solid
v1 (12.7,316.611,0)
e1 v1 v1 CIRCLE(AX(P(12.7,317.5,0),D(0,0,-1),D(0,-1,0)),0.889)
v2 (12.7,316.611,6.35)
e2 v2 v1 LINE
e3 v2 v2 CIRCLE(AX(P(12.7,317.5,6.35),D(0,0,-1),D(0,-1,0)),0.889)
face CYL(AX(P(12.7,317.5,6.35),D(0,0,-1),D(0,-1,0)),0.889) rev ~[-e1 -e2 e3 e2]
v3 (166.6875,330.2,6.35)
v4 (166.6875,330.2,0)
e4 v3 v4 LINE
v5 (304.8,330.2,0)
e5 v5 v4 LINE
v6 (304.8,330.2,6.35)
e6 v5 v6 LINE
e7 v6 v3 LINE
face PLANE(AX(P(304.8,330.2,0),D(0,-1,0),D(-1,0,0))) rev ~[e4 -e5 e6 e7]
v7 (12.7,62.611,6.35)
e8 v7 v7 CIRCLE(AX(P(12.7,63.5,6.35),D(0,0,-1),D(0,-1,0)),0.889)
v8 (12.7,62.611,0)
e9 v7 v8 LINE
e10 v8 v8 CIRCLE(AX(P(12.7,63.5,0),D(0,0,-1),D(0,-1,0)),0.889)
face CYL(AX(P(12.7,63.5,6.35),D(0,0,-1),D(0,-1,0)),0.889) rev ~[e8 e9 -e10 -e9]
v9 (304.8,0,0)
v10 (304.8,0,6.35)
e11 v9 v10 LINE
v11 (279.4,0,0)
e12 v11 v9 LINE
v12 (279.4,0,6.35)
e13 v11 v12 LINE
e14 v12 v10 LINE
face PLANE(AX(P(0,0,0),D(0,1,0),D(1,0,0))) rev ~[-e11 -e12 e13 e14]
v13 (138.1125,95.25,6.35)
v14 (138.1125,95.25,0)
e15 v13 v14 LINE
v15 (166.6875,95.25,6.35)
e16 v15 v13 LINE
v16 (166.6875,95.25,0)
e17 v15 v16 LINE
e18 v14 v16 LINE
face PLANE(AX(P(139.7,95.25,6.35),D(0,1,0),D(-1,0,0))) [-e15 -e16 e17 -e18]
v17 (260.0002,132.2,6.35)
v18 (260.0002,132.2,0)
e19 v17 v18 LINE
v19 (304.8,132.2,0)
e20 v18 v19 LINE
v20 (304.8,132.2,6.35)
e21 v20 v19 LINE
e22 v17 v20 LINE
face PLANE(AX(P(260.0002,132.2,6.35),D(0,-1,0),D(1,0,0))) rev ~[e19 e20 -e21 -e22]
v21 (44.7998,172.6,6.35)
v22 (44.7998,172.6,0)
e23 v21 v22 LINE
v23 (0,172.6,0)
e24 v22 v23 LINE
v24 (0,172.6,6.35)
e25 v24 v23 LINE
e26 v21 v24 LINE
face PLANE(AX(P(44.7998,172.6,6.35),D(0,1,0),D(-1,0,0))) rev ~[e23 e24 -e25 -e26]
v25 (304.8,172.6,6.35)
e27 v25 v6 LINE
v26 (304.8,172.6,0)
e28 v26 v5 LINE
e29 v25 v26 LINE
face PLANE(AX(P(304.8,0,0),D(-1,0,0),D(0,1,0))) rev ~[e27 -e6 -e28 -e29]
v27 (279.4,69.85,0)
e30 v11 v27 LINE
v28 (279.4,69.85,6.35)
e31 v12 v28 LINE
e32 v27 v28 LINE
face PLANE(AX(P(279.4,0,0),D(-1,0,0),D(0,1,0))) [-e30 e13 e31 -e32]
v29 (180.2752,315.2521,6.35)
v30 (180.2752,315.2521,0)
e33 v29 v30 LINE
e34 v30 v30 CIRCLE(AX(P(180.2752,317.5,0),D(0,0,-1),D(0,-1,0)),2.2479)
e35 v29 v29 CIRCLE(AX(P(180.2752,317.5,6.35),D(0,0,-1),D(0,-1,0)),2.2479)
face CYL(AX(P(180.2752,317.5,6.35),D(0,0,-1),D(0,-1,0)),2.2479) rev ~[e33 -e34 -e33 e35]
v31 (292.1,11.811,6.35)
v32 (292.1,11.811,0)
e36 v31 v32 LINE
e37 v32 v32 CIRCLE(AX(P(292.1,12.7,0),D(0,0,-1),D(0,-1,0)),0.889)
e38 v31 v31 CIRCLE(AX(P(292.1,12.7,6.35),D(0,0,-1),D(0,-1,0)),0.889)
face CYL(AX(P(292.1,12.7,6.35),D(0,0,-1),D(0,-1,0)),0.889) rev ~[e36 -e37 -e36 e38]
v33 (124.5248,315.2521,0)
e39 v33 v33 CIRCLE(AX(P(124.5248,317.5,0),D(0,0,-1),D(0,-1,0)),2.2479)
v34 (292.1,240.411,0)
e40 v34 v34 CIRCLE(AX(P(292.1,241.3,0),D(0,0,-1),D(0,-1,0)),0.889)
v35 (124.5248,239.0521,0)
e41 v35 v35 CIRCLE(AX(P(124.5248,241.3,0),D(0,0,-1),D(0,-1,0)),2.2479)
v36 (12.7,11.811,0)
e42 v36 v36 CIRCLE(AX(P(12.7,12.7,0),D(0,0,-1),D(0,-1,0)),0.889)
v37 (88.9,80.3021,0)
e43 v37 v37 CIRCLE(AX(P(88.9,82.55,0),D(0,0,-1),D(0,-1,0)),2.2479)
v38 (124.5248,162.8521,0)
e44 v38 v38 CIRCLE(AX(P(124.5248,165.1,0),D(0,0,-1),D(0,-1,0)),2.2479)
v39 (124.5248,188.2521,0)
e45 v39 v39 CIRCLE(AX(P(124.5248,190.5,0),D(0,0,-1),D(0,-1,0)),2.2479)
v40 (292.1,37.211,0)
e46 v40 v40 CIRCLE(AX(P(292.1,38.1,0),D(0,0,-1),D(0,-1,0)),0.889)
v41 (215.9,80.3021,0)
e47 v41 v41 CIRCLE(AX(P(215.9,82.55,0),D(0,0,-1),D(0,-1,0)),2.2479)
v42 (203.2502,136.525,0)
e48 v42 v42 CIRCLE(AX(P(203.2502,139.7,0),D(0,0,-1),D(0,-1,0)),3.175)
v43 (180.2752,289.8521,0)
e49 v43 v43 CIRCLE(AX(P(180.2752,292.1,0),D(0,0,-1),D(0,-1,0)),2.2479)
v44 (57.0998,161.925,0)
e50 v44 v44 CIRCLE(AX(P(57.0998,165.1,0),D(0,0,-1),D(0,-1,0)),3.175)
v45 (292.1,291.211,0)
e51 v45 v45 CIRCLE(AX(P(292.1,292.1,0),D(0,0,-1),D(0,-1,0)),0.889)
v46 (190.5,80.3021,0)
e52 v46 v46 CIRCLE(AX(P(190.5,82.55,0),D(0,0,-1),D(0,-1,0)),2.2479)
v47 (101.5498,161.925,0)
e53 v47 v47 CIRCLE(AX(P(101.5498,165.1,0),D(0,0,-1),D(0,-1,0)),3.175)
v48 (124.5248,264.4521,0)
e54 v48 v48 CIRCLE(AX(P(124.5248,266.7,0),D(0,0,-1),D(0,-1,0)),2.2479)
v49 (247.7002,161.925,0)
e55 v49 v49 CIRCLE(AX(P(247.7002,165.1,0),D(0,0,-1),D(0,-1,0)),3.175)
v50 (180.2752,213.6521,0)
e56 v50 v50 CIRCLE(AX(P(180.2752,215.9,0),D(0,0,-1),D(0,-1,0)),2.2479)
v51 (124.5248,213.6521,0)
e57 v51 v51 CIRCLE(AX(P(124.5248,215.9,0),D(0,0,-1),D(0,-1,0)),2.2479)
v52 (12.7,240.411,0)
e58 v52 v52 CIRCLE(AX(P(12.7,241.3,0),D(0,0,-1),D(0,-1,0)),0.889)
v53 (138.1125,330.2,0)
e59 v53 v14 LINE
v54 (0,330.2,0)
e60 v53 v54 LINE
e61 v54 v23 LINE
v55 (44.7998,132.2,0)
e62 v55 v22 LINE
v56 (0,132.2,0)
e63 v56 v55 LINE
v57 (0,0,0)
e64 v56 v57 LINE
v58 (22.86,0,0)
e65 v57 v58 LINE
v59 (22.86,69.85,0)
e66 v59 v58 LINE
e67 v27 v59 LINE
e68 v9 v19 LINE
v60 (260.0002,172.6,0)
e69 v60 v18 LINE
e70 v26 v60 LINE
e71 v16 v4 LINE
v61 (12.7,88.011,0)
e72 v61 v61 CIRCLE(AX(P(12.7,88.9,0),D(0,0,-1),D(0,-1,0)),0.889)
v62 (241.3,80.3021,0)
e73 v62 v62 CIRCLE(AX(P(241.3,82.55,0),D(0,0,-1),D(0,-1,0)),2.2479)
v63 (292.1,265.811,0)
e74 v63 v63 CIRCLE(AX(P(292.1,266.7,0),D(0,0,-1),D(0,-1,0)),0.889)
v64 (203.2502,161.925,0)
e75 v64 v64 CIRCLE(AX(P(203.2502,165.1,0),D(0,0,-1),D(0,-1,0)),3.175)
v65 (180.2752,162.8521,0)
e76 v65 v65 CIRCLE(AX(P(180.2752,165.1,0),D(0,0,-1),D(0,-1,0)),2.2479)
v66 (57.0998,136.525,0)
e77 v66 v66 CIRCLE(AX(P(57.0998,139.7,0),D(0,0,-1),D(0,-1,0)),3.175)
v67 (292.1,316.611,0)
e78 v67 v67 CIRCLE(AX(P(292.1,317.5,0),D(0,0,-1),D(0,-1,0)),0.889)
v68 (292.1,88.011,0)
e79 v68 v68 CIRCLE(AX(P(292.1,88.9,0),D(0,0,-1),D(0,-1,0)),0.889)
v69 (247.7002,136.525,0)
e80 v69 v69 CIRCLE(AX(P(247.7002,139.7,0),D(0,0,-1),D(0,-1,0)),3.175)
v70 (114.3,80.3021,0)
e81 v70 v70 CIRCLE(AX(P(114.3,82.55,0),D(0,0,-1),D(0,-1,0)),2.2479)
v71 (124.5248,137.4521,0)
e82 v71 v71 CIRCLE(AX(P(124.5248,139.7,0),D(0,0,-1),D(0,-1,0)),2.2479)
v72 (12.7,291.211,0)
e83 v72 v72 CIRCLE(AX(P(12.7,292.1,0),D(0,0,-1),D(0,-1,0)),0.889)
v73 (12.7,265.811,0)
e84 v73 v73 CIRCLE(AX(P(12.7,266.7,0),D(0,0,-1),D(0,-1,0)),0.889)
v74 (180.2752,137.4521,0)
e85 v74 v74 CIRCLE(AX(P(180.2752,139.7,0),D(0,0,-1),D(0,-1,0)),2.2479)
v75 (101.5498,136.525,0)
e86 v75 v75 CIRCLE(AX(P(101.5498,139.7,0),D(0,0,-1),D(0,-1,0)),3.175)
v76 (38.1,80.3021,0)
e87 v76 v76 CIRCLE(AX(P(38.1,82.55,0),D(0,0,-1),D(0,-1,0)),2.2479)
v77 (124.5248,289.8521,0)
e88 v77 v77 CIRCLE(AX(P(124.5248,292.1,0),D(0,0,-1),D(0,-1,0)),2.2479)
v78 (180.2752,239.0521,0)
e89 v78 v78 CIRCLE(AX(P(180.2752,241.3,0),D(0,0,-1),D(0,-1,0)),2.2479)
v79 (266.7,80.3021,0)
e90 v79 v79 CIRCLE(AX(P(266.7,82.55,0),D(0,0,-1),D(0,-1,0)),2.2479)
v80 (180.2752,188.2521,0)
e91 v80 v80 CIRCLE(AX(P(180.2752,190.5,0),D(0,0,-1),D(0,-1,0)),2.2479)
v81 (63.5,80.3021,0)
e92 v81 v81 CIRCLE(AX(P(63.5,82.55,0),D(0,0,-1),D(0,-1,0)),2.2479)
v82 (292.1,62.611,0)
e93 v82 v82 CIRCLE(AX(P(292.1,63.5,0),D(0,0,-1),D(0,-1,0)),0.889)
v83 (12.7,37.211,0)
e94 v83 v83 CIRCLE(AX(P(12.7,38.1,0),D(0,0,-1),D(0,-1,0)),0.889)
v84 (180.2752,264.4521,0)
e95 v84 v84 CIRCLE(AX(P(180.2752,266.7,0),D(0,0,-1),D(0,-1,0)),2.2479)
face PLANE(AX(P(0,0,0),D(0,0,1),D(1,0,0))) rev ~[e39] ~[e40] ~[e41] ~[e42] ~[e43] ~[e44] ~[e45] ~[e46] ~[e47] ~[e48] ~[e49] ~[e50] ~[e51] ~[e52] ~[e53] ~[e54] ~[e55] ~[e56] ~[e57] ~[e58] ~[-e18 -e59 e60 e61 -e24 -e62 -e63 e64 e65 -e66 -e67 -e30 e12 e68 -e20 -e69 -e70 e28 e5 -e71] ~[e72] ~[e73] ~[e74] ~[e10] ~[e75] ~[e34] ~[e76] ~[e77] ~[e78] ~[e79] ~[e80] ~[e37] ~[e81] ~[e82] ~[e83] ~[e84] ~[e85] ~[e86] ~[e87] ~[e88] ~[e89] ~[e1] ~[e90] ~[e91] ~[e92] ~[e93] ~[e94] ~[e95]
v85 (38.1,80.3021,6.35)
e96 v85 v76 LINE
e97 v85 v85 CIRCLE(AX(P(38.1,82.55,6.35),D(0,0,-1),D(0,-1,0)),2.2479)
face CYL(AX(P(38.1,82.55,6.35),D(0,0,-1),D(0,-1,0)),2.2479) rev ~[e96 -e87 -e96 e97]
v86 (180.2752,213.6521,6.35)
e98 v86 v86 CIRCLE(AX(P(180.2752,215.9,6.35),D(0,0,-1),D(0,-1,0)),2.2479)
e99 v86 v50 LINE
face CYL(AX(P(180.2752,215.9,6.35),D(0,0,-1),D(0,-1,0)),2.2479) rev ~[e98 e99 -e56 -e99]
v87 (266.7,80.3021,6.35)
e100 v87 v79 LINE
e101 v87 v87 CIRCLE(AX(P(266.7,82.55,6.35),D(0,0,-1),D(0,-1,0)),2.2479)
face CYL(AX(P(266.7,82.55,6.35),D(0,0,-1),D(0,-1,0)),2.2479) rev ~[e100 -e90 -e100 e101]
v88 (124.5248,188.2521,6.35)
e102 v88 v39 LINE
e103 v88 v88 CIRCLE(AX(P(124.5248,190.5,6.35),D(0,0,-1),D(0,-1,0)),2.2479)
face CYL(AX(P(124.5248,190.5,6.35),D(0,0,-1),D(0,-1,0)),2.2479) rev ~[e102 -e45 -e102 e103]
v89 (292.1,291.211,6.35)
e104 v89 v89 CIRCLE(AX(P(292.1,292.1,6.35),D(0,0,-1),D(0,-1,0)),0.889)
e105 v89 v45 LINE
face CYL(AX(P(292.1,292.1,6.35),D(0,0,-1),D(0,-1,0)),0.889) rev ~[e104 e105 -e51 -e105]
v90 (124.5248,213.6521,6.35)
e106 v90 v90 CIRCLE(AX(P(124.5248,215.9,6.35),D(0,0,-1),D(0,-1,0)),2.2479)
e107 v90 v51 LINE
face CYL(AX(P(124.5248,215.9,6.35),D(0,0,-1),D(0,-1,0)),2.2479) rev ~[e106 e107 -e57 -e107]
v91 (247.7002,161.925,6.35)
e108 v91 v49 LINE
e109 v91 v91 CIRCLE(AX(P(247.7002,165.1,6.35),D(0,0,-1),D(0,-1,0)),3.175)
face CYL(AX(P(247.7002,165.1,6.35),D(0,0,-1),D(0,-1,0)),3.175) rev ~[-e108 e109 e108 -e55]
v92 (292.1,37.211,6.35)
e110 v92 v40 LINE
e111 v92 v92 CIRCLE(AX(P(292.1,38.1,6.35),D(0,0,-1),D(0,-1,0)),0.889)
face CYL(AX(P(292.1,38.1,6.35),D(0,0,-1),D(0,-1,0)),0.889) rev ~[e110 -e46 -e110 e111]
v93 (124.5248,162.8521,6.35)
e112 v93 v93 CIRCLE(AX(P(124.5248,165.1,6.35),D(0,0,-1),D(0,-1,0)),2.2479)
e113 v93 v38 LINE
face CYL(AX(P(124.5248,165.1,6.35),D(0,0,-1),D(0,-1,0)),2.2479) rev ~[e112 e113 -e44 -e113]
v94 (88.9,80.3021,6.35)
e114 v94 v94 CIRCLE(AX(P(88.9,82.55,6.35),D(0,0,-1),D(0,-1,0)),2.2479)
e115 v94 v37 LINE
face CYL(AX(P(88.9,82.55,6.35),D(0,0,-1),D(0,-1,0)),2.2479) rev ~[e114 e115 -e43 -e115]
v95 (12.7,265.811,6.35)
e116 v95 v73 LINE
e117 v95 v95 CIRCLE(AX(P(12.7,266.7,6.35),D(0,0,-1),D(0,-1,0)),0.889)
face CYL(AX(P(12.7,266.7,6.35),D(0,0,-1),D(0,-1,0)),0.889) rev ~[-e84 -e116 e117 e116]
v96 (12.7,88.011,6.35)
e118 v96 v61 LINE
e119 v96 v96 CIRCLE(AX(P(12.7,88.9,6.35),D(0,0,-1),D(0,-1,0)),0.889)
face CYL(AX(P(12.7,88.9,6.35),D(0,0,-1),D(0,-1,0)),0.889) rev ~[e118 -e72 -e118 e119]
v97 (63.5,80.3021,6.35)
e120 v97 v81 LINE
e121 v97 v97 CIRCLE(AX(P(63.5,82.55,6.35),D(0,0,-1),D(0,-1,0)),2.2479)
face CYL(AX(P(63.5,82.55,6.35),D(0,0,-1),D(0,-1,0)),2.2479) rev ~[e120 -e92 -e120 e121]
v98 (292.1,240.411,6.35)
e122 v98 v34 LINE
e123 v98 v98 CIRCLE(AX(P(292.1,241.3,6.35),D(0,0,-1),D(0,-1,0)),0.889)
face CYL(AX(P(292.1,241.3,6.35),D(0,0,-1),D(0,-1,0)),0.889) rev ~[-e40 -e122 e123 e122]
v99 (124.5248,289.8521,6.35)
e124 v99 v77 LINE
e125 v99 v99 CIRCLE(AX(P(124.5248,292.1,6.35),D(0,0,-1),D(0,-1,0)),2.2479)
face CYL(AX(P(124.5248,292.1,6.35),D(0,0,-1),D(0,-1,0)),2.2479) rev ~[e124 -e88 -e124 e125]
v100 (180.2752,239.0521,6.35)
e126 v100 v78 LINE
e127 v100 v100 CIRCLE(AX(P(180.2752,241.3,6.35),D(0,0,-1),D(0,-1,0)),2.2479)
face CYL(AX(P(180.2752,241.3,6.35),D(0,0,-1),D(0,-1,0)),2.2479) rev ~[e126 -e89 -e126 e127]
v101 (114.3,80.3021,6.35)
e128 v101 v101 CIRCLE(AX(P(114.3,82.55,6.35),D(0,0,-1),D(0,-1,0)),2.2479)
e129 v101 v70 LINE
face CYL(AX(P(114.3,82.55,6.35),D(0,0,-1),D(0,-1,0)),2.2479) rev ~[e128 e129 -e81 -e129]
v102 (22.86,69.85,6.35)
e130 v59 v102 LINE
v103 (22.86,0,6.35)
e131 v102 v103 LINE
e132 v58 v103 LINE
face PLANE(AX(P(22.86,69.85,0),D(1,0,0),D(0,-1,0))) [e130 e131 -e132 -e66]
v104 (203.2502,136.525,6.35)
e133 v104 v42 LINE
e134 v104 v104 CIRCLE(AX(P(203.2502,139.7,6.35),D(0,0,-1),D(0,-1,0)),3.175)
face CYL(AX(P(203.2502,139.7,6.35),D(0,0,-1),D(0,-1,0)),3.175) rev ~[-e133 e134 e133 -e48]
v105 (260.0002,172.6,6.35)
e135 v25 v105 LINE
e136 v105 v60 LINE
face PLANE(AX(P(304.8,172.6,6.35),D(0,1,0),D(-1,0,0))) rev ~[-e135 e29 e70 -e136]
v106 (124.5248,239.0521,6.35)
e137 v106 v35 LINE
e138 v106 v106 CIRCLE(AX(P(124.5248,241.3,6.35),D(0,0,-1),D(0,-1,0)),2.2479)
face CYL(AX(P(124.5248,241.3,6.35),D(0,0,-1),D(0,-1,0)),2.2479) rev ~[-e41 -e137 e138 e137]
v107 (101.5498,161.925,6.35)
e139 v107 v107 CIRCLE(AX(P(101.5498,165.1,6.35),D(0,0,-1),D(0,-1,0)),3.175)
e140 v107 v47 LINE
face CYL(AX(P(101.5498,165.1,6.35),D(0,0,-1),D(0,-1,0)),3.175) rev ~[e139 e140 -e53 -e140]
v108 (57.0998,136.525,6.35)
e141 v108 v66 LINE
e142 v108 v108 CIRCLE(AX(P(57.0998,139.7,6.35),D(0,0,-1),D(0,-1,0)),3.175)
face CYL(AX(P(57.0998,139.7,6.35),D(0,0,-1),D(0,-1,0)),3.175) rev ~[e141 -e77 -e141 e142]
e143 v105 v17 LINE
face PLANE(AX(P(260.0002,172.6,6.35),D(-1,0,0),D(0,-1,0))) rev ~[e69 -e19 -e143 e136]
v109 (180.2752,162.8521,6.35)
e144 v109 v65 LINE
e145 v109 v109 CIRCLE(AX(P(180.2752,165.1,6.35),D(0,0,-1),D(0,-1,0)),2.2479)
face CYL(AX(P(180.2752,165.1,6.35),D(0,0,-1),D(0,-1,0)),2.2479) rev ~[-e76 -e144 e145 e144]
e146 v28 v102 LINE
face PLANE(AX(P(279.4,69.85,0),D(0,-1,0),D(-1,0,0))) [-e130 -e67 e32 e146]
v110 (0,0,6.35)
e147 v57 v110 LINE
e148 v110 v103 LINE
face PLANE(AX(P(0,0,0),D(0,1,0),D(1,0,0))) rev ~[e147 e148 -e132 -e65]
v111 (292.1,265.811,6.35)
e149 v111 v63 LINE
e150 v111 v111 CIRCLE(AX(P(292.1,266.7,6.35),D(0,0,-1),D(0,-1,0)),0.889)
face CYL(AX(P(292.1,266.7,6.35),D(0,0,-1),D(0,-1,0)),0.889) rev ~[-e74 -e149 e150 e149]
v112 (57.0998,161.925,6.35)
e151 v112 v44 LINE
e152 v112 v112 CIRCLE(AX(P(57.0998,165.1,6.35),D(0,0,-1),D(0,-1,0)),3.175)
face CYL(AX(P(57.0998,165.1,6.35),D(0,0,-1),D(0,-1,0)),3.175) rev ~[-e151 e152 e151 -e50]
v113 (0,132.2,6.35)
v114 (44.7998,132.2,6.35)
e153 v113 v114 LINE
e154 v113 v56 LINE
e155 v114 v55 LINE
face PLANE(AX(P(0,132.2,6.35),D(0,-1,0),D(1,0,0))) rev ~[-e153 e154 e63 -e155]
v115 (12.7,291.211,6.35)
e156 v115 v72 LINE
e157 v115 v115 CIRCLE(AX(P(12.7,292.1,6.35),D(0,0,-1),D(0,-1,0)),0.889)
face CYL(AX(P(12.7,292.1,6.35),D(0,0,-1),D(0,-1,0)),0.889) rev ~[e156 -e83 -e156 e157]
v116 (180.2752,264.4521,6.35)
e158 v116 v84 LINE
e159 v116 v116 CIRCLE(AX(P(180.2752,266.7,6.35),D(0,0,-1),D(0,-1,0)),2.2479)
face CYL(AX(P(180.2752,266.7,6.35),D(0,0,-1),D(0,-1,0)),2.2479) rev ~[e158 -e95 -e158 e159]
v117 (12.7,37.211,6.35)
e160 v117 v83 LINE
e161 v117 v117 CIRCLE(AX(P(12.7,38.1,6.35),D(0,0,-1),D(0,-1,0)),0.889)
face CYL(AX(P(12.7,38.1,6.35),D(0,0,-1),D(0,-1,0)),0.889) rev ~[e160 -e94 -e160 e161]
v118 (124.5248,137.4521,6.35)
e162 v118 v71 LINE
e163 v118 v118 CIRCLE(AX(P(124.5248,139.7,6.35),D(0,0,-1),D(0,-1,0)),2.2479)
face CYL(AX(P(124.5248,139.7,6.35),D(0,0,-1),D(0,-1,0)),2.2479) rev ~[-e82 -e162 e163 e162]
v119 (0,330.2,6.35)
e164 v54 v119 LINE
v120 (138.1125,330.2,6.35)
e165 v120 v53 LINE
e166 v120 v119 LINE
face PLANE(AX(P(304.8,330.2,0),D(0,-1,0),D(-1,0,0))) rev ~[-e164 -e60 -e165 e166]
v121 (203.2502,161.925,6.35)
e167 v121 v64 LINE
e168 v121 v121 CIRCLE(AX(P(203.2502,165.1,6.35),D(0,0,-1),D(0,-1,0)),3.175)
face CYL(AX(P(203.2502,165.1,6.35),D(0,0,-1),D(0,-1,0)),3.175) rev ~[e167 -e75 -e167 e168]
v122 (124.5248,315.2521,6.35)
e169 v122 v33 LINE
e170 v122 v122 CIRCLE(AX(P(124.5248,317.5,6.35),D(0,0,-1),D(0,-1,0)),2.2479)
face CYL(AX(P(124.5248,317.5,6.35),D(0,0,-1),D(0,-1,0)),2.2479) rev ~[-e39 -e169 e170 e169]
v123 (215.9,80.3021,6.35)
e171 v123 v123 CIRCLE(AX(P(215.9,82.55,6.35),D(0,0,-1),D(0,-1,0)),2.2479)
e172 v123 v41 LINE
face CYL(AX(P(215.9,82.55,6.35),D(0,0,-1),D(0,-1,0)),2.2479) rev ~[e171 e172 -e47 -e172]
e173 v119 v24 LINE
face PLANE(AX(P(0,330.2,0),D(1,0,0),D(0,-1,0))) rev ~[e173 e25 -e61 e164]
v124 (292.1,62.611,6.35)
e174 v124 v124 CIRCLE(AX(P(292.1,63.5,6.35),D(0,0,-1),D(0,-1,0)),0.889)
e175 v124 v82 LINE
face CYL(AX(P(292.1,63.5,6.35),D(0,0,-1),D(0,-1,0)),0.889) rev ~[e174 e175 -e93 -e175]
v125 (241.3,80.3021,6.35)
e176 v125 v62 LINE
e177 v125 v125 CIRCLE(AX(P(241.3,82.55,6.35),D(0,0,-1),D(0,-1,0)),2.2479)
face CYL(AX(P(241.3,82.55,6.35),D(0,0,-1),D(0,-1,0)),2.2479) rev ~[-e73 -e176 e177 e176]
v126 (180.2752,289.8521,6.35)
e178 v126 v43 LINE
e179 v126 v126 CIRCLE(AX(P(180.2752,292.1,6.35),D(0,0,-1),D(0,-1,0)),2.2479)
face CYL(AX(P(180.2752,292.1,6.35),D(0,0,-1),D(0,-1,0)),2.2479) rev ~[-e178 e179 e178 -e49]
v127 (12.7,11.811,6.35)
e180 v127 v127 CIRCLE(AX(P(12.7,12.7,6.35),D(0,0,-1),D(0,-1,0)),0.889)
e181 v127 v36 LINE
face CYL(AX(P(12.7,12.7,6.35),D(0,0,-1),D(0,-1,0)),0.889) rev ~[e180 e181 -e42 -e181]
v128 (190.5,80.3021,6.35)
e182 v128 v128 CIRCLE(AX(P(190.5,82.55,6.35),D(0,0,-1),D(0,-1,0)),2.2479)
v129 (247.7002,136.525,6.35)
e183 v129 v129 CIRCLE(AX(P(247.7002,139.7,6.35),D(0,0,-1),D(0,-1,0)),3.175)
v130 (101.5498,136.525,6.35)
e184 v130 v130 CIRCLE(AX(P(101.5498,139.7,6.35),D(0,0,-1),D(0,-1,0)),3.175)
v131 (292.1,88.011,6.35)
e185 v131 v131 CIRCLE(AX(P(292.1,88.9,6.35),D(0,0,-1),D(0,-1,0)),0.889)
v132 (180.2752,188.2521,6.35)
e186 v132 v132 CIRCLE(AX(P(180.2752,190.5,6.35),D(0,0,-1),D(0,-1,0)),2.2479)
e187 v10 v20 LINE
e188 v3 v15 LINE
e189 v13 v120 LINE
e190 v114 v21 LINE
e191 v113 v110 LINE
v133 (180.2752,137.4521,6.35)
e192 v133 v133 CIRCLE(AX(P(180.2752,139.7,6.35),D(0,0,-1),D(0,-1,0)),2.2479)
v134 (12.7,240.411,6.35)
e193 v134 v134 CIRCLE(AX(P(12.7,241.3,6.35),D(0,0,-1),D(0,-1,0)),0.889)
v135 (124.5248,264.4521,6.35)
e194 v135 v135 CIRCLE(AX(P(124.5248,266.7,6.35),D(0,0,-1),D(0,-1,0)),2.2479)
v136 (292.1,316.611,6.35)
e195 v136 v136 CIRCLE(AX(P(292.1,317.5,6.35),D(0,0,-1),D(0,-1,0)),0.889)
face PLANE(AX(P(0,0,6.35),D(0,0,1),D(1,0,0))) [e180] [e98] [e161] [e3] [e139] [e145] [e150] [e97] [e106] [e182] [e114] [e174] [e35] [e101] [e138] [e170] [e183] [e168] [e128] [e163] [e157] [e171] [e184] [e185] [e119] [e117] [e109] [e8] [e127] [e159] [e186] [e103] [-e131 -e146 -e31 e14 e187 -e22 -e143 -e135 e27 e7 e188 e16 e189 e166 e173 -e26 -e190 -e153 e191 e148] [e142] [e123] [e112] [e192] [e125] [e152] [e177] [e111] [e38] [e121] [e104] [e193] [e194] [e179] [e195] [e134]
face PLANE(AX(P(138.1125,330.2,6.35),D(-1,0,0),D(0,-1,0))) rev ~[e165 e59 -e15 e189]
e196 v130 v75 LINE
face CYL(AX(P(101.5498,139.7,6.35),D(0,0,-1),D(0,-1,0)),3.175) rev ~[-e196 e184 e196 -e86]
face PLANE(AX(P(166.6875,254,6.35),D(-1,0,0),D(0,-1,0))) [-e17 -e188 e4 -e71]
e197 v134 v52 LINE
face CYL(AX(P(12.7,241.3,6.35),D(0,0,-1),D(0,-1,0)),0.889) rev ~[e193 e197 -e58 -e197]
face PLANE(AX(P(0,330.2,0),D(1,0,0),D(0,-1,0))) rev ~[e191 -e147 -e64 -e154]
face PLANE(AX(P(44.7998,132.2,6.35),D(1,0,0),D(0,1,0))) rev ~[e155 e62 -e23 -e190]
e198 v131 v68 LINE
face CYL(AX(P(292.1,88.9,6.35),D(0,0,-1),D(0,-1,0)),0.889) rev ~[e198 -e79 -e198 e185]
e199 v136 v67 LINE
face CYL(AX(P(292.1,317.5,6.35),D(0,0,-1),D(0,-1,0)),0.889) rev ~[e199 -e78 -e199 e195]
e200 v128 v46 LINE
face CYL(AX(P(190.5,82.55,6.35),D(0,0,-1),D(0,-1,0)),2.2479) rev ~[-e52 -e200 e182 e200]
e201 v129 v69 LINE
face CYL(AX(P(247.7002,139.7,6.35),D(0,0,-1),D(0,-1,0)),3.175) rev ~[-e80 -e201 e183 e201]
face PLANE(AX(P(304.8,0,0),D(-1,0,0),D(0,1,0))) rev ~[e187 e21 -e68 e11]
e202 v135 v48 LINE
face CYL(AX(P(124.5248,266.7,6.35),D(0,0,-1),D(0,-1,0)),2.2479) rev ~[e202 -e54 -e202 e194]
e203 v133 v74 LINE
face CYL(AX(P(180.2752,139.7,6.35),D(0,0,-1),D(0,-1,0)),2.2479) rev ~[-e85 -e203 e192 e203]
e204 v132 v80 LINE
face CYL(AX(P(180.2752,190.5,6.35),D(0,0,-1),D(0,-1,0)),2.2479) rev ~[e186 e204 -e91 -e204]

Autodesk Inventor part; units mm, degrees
ref_plane "YZ Plane" through (0, 0, 0) normal (1, 0, 0) x (0, 1, 0)
ref_plane "XZ Plane" through (0, 0, 0) normal (0, 1, 0) x (-1, 0, 0)
ref_plane "XY Plane" through (0, 0, 0) normal (0, 0, 1) x (1, 0, 0)
sketch "Sketch1" plane through (0, 0, 0) normal (0, 0, 1) x (1, 0, 0)
  line L0 (0, 0) -> (304.8, 0)
  line L1 (304.8, 0) -> (304.8, 330.2)
  line L2 (304.8, 330.2) -> (0, 330.2)
  line L3 (0, 330.2) -> (0, 0)
  dimension "d0" = 304.8
  dimension "d1" = 330.2
extrude "Extrusion1" add sketch "Sketch1" along normal blind 6.35
sketch "Sketch2" plane through (0, 0, 6.35) normal (0, 0, 1) x (1, 0, 0)
  circle A0 centre (57.0998, 139.7) radius 3.175 projected
  circle A1 centre (101.5498, 165.1) radius 3.175 projected
  circle A2 centre (203.2502, 139.7) radius 3.175 projected
  circle A3 centre (247.7002, 165.1) radius 3.175 projected
  circle A4 centre (203.2502, 165.1) radius 3.175 projected
  circle A5 centre (247.7002, 139.7) radius 3.175 projected
  circle A6 centre (101.5498, 139.7) radius 3.175 projected
  circle A7 centre (57.0998, 165.1) radius 3.175 projected
  line L0 (0, 132.2) -> (44.7998, 132.2) projected
  line L1 (44.7998, 132.2) -> (44.7998, 172.6) projected
  line L2 (44.7998, 172.6) -> (0, 172.6) projected
  line L3 (0, 330.2) -> (0, 172.6) projected
  line L4 (304.8, 330.2) -> (0, 330.2) projected
  line L5 (304.8, 172.6) -> (304.8, 330.2) projected
  line L6 (304.8, 172.6) -> (260.0002, 172.6) projected
  line L7 (260.0002, 172.6) -> (260.0002, 132.2) projected
  line L8 (260.0002, 132.2) -> (304.8, 132.2) projected
  line L9 (304.8, 120.65) -> (304.8, 132.2) projected
  line L10 (0, 0) -> (22.86, 0) projected
  line L11 (0, 132.2) -> (0, 0) projected
  line L12 (44.7998, 172.6) -> (0, 172.6)
  line L13 (0, 172.6) -> (0, 132.2)
  line L14 (0, 132.2) -> (44.7998, 132.2)
  line L15 (44.7998, 132.2) -> (44.7998, 172.6)
  line L16 (260.0002, 172.6) -> (304.8, 172.6)
  line L17 (304.8, 172.6) -> (304.8, 132.2)
  line L18 (304.8, 132.2) -> (260.0002, 132.2)
  line L19 (260.0002, 132.2) -> (260.0002, 172.6)
  circle A8 centre (12.7, 38.1) radius 0.889 projected
  circle A9 centre (12.7, 88.9) radius 0.889 projected
  circle A10 centre (12.7, 266.7) radius 0.889 projected
  circle A11 centre (12.7, 317.5) radius 0.889 projected
  circle A12 centre (12.7, 292.1) radius 0.889 projected
  circle A13 centre (12.7, 241.3) radius 0.889 projected
  circle A14 centre (12.7, 63.5) radius 0.889 projected
  circle A15 centre (12.7, 12.7) radius 0.889 projected
  circle A16 centre (292.1, 266.7) radius 0.889 projected
  circle A17 centre (292.1, 317.5) radius 0.889 projected
  circle A18 centre (292.1, 292.1) radius 0.889 projected
  circle A19 centre (292.1, 241.3) radius 0.889 projected
  circle A20 centre (124.5248, 317.5) radius 2.2479 projected
  circle A21 centre (124.5248, 292.1) radius 2.2479 projected
  circle A22 centre (180.2752, 266.7) radius 2.2479 projected
  circle A23 centre (124.5248, 241.3) radius 2.2479 projected
  circle A24 centre (124.5248, 215.9) radius 2.2479 projected
  circle A25 centre (180.2752, 190.5) radius 2.2479 projected
  circle A26 centre (124.5248, 165.1) radius 2.2479 projected
  circle A27 centre (180.2752, 139.7) radius 2.2479 projected
  circle A28 centre (124.5248, 139.7) radius 2.2479 projected
  circle A29 centre (180.2752, 165.1) radius 2.2479 projected
  circle A30 centre (124.5248, 190.5) radius 2.2479 projected
  circle A31 centre (180.2752, 215.9) radius 2.2479 projected
  circle A32 centre (180.2752, 241.3) radius 2.2479 projected
  circle A33 centre (124.5248, 266.7) radius 2.2479 projected
  circle A34 centre (180.2752, 292.1) radius 2.2479 projected
  circle A35 centre (180.2752, 317.5) radius 2.2479 projected
  line L20 (167.5752, 120.65) -> (167.5752, 215.9) projected
  line L21 (167.5752, 215.9) -> (137.2248, 215.9) projected
  line L22 (137.2248, 215.9) -> (137.2248, 120.65) projected
  line L23 (22.86, 120.65) -> (22.86, 0) projected
  line L24 (304.8, 120.65) -> (167.5752, 120.65) projected
  line L25 (137.2248, 120.65) -> (22.86, 120.65) projected
extrude "Extrusion2" cut sketch "Sketch2" against normal blind 6.35 contours L13 L2 L1 L0 | L17 L8 L7 L6
sketch "Sketch3" plane through (0, 0, 6.35) normal (0, 0, 1) x (1, 0, 0)
  circle A0 centre (57.0998, 139.7) radius 3.175 projected
  circle A1 centre (101.5498, 165.1) radius 3.175 projected
  circle A2 centre (203.2502, 139.7) radius 3.175 projected
  circle A3 centre (247.7002, 165.1) radius 3.175 projected
  circle A4 centre (203.2502, 165.1) radius 3.175 projected
  circle A5 centre (247.7002, 139.7) radius 3.175 projected
  circle A6 centre (101.5498, 139.7) radius 3.175 projected
  circle A7 centre (57.0998, 165.1) radius 3.175 projected
  line L0 (0, 132.2) -> (44.7998, 132.2) projected
  line L1 (44.7998, 132.2) -> (44.7998, 172.6) projected
  line L2 (44.7998, 172.6) -> (0, 172.6) projected
  line L3 (0, 330.2) -> (0, 172.6) projected
  line L4 (304.8, 330.2) -> (0, 330.2) projected
  line L5 (304.8, 172.6) -> (304.8, 330.2) projected
  line L6 (304.8, 172.6) -> (260.0002, 172.6) projected
  line L7 (260.0002, 172.6) -> (260.0002, 132.2) projected
  line L8 (260.0002, 132.2) -> (304.8, 132.2) projected
  line L9 (304.8, 120.65) -> (304.8, 132.2) projected
  line L10 (0, 0) -> (22.86, 0) projected
  line L11 (0, 132.2) -> (0, 0) projected
  circle A8 centre (12.7, 38.1) radius 0.889 projected
  circle A9 centre (12.7, 88.9) radius 0.889 projected
  circle A10 centre (12.7, 266.7) radius 0.889 projected
  circle A11 centre (12.7, 317.5) radius 0.889 projected
  circle A12 centre (12.7, 292.1) radius 0.889 projected
  circle A13 centre (12.7, 241.3) radius 0.889 projected
  circle A14 centre (12.7, 63.5) radius 0.889 projected
  circle A15 centre (12.7, 12.7) radius 0.889 projected
  circle A16 centre (292.1, 266.7) radius 0.889 projected
  circle A17 centre (292.1, 317.5) radius 0.889 projected
  circle A18 centre (292.1, 292.1) radius 0.889 projected
  circle A19 centre (292.1, 241.3) radius 0.889 projected
  circle A20 centre (124.5248, 317.5) radius 2.2479 projected
  circle A21 centre (124.5248, 292.1) radius 2.2479 projected
  circle A22 centre (180.2752, 266.7) radius 2.2479 projected
  circle A23 centre (124.5248, 241.3) radius 2.2479 projected
  circle A24 centre (124.5248, 215.9) radius 2.2479 projected
  circle A25 centre (180.2752, 190.5) radius 2.2479 projected
  circle A26 centre (124.5248, 165.1) radius 2.2479 projected
  circle A27 centre (180.2752, 139.7) radius 2.2479 projected
  circle A28 centre (124.5248, 139.7) radius 2.2479 projected
  circle A29 centre (180.2752, 165.1) radius 2.2479 projected
  circle A30 centre (124.5248, 190.5) radius 2.2479 projected
  circle A31 centre (180.2752, 215.9) radius 2.2479 projected
  circle A32 centre (180.2752, 241.3) radius 2.2479 projected
  circle A33 centre (124.5248, 266.7) radius 2.2479 projected
  circle A34 centre (180.2752, 292.1) radius 2.2479 projected
  circle A35 centre (180.2752, 317.5) radius 2.2479 projected
  line L12 (167.5752, 120.65) -> (167.5752, 215.9) projected
  line L13 (167.5752, 215.9) -> (137.2248, 215.9) projected
  line L14 (137.2248, 215.9) -> (137.2248, 120.65) projected
  line L15 (22.86, 120.65) -> (22.86, 0) projected
  line L16 (304.8, 120.65) -> (167.5752, 120.65) projected
  line L17 (137.2248, 120.65) -> (22.86, 120.65) projected
  point P0 (57.0998, 165.1)
  point P1 (57.0998, 139.7)
  point P2 (101.5498, 139.7)
  point P3 (101.5498, 165.1)
  point P4 (203.2502, 165.1)
  point P5 (203.2502, 139.7)
  point P6 (247.7002, 139.7)
  point P7 (247.7002, 165.1)
hole "Hole1" at (57.0998, 165.1, 6.35) at (57.0998, 139.7, 6.35) at (101.5498, 139.7, 6.35) at (101.5498, 165.1, 6.35) at (203.2502, 165.1, 6.35) at (203.2502, 139.7, 6.35) at (247.7002, 139.7, 6.35) at (247.7002, 165.1, 6.35) direction (0, 0, -1) diameter 6.35 depth 25.4 tip angle 118
sketch "Sketch4" plane through (0, 0, 6.35) normal (0, 0, 1) x (1, 0, 0)
  circle A0 centre (12.7, 38.1) radius 0.889 projected
  circle A1 centre (12.7, 88.9) radius 0.889 projected
  circle A2 centre (12.7, 266.7) radius 0.889 projected
  circle A3 centre (12.7, 317.5) radius 0.889 projected
  circle A4 centre (12.7, 292.1) radius 0.889 projected
  circle A5 centre (12.7, 241.3) radius 0.889 projected
  circle A6 centre (12.7, 63.5) radius 0.889 projected
  circle A7 centre (12.7, 12.7) radius 0.889 projected
  circle A8 centre (292.1, 266.7) radius 0.889 projected
  circle A9 centre (292.1, 317.5) radius 0.889 projected
  circle A10 centre (292.1, 292.1) radius 0.889 projected
  circle A11 centre (292.1, 241.3) radius 0.889 projected
  circle A12 centre (57.0998, 139.7) radius 3.175 projected
  circle A13 centre (101.5498, 165.1) radius 3.175 projected
  circle A14 centre (203.2502, 139.7) radius 3.175 projected
  circle A15 centre (247.7002, 165.1) radius 3.175 projected
  circle A16 centre (203.2502, 165.1) radius 3.175 projected
  circle A17 centre (247.7002, 139.7) radius 3.175 projected
  circle A18 centre (101.5498, 139.7) radius 3.175 projected
  circle A19 centre (57.0998, 165.1) radius 3.175 projected
  line L0 (0, 132.2) -> (44.7998, 132.2) projected
  line L1 (44.7998, 132.2) -> (44.7998, 172.6) projected
  line L2 (44.7998, 172.6) -> (0, 172.6) projected
  line L3 (0, 330.2) -> (0, 172.6) projected
  line L4 (304.8, 330.2) -> (0, 330.2) projected
  line L5 (304.8, 172.6) -> (304.8, 330.2) projected
  line L6 (304.8, 172.6) -> (260.0002, 172.6) projected
  line L7 (260.0002, 172.6) -> (260.0002, 132.2) projected
  line L8 (260.0002, 132.2) -> (304.8, 132.2) projected
  line L9 (304.8, 120.65) -> (304.8, 132.2) projected
  line L10 (0, 0) -> (22.86, 0) projected
  line L11 (0, 132.2) -> (0, 0) projected
  circle A20 centre (124.5248, 317.5) radius 2.2479 projected
  circle A21 centre (124.5248, 292.1) radius 2.2479 projected
  circle A22 centre (180.2752, 266.7) radius 2.2479 projected
  circle A23 centre (124.5248, 241.3) radius 2.2479 projected
  circle A24 centre (124.5248, 215.9) radius 2.2479 projected
  circle A25 centre (180.2752, 190.5) radius 2.2479 projected
  circle A26 centre (124.5248, 165.1) radius 2.2479 projected
  circle A27 centre (180.2752, 139.7) radius 2.2479 projected
  circle A28 centre (124.5248, 139.7) radius 2.2479 projected
  circle A29 centre (180.2752, 165.1) radius 2.2479 projected
  circle A30 centre (124.5248, 190.5) radius 2.2479 projected
  circle A31 centre (180.2752, 215.9) radius 2.2479 projected
  circle A32 centre (180.2752, 241.3) radius 2.2479 projected
  circle A33 centre (124.5248, 266.7) radius 2.2479 projected
  circle A34 centre (180.2752, 292.1) radius 2.2479 projected
  circle A35 centre (180.2752, 317.5) radius 2.2479 projected
  line L12 (167.5752, 120.65) -> (167.5752, 215.9) projected
  line L13 (167.5752, 215.9) -> (137.2248, 215.9) projected
  line L14 (137.2248, 215.9) -> (137.2248, 120.65) projected
  line L15 (22.86, 120.65) -> (22.86, 0) projected
  line L16 (304.8, 120.65) -> (167.5752, 120.65) projected
  line L17 (137.2248, 120.65) -> (22.86, 120.65) projected
  point P0 (12.7, 317.5)
  point P1 (12.7, 292.1)
  point P2 (12.7, 266.7)
  point P3 (12.7, 241.3)
  point P4 (12.7, 88.9)
  point P5 (292.1, 88.9)
  point P6 (292.1, 63.5)
  point P7 (292.1, 38.1)
  point P8 (292.1, 12.7)
  point P9 (292.1, 241.3)
  point P10 (292.1, 266.7)
  point P11 (292.1, 292.1)
  point P12 (292.1, 317.5)
hole "Hole2" at (12.7, 317.5, 6.35) at (12.7, 292.1, 6.35) at (12.7, 266.7, 6.35) at (12.7, 241.3, 6.35) at (12.7, 88.9, 6.35) at (12.7, 63.5, 6.35) at (12.7, 38.1, 6.35) at (12.7, 12.7, 6.35) at (292.1, 88.9, 6.35) at (292.1, 63.5, 6.35) at (292.1, 38.1, 6.35) at (292.1, 12.7, 6.35) at (292.1, 241.3, 6.35) at (292.1, 266.7, 6.35) at (292.1, 292.1, 6.35) at (292.1, 317.5, 6.35) direction (0, 0, -1) diameter 1.778 depth 25.4 tip angle 118 clearance for "Flat Head Machine Screw (82)" size "#0" standard "Ansi Unified Screw Threads"
sketch "Sketch5" plane through (0, 0, 6.35) normal (0, 0, 1) x (1, 0, 0)
  line L0 (165.1, 322.2478) -> (165.1, -126.1091) projected
  line L1 (139.7, 322.2478) -> (139.7, -126.1091) projected
  line L2 (139.7, 254) -> (165.1, 254)
  line L3 (165.1, 254) -> (165.1, 330.2)
  line L4 (165.1, 330.2) -> (139.7, 330.2)
  line L5 (139.7, 330.2) -> (139.7, 254)
  line L6 (304.8, 330.2) -> (0, 330.2) projected
  point P0 (0, 0)
  dimension "d20" = 0
  dimension "d21" = 76.2
extrude "Extrusion3" cut sketch "Sketch5" against normal blind 6.35
sketch "Sketch6" plane through (0, 0, 6.35) normal (0, 0, 1) x (1, 0, 0)
  line L0 (304.8, 330.2) -> (165.1, 330.2) projected
  line L1 (165.1, 330.2) -> (166.6875, 330.2)
  line L2 (166.6875, 330.2) -> (166.6875, 254)
  line L3 (166.6875, 254) -> (165.1, 254)
  line L4 (165.1, 254) -> (165.1, 330.2)
  line L5 (139.7, 330.2) -> (0, 330.2) projected
  line L6 (139.7, 330.2) -> (138.1125, 330.2)
  line L7 (138.1125, 330.2) -> (138.1125, 254)
  line L8 (138.1125, 254) -> (139.7, 254)
  line L9 (139.7, 254) -> (139.7, 330.2)
  line L10 (139.7, 254) -> (139.7, 330.2) projected
  point P0 (0, 0)
  dimension "d24" = 1.5875
  dimension "d25" = 1.5875
extrude "Extrusion4" cut sketch "Sketch6" against normal blind 6.35
sketch "Sketch7" plane through (0, 0, 6.35) normal (0, 0, 1) x (1, 0, 0)
  line L0 (142.24, 177.7506) -> (142.24, -148.2697) projected
  line L1 (165.1, 175.9057) -> (165.1, -141.7236) projected
  line L2 (139.7, 128.8943) -> (139.7, -188.735) projected
  line L3 (165.1, 175.9057) -> (139.7, 175.9057)
  line L4 (139.7, 175.9057) -> (139.7, 95.25)
  line L5 (139.7, 95.25) -> (165.1, 95.25)
  line L6 (165.1, 95.25) -> (165.1, 175.9057)
  line L7 (0, 0) -> (304.8, 0) projected
  line L8 (139.7, 175.9057) -> (165.1, 175.9057)
  line L9 (165.1, 175.9057) -> (165.1, 196.85)
  line L10 (165.1, 196.85) -> (139.7, 196.85)
  line L11 (139.7, 196.85) -> (139.7, 175.9057)
  dimension "d28" = 95.25
  dimension "d29" = 0
  dimension "d30" = 101.6
extrude "Extrusion5" cut sketch "Sketch7" against normal blind 6.35 contours L3 L1 L5 L0 | L3 L11 L10 L9 | L0 L5 L2 L4 L3
sketch "Sketch8" plane through (0, 0, 6.35) normal (0, 0, 1) x (1, 0, 0)
  line L0 (138.1125, 330.2) -> (138.1125, 254) projected
  line L1 (138.1125, 330.2) -> (166.6875, 330.2)
  line L2 (166.6875, 330.2) -> (166.6875, 95.25)
  line L3 (166.6875, 95.25) -> (138.1125, 95.25)
  line L4 (138.1125, 95.25) -> (138.1125, 330.2)
  line L5 (166.6875, 330.2) -> (166.6875, 254) projected
  line L6 (165.1, 95.25) -> (139.7, 95.25) projected
  point P0 (0, 0)
  dimension "d33" = 0
  dimension "d34" = 0
extrude "Extrusion6" cut sketch "Sketch8" against normal blind 6.35
sketch "Sketch10" plane through (0, 0, 6.35) normal (0, 0, 1) x (1, 0, 0)
  circle A0 centre (124.5248, 317.5) radius 2.2479 projected
  circle A1 centre (124.5248, 292.1) radius 2.2479 projected
  circle A2 centre (180.2752, 266.7) radius 2.2479 projected
  circle A3 centre (124.5248, 241.3) radius 2.2479 projected
  circle A4 centre (124.5248, 215.9) radius 2.2479 projected
  circle A5 centre (180.2752, 190.5) radius 2.2479 projected
  circle A6 centre (124.5248, 165.1) radius 2.2479 projected
  circle A7 centre (180.2752, 139.7) radius 2.2479 projected
  circle A8 centre (124.5248, 139.7) radius 2.2479 projected
  circle A9 centre (180.2752, 165.1) radius 2.2479 projected
  circle A10 centre (124.5248, 190.5) radius 2.2479 projected
  circle A11 centre (180.2752, 215.9) radius 2.2479 projected
  circle A12 centre (180.2752, 241.3) radius 2.2479 projected
  circle A13 centre (124.5248, 266.7) radius 2.2479 projected
  circle A14 centre (180.2752, 292.1) radius 2.2479 projected
  circle A15 centre (180.2752, 317.5) radius 2.2479 projected
  circle A16 centre (12.7, 38.1) radius 0.889 projected
  circle A17 centre (12.7, 88.9) radius 0.889 projected
  circle A18 centre (12.7, 266.7) radius 0.889 projected
  circle A19 centre (12.7, 317.5) radius 0.889 projected
  circle A20 centre (12.7, 292.1) radius 0.889 projected
  circle A21 centre (12.7, 241.3) radius 0.889 projected
  circle A22 centre (12.7, 63.5) radius 0.889 projected
  circle A23 centre (12.7, 12.7) radius 0.889 projected
  circle A24 centre (292.1, 266.7) radius 0.889 projected
  circle A25 centre (292.1, 317.5) radius 0.889 projected
  circle A26 centre (292.1, 292.1) radius 0.889 projected
  circle A27 centre (292.1, 241.3) radius 0.889 projected
  circle A28 centre (57.0998, 139.7) radius 3.175 projected
  circle A29 centre (101.5498, 165.1) radius 3.175 projected
  circle A30 centre (203.2502, 139.7) radius 3.175 projected
  circle A31 centre (247.7002, 165.1) radius 3.175 projected
  circle A32 centre (203.2502, 165.1) radius 3.175 projected
  circle A33 centre (247.7002, 139.7) radius 3.175 projected
  circle A34 centre (101.5498, 139.7) radius 3.175 projected
  circle A35 centre (57.0998, 165.1) radius 3.175 projected
  line L0 (0, 132.2) -> (44.7998, 132.2) projected
  line L1 (44.7998, 132.2) -> (44.7998, 172.6) projected
  line L2 (44.7998, 172.6) -> (0, 172.6) projected
  line L3 (0, 330.2) -> (0, 172.6) projected
  line L4 (304.8, 330.2) -> (0, 330.2) projected
  line L5 (304.8, 172.6) -> (304.8, 330.2) projected
  line L6 (304.8, 172.6) -> (260.0002, 172.6) projected
  line L7 (260.0002, 172.6) -> (260.0002, 132.2) projected
  line L8 (260.0002, 132.2) -> (304.8, 132.2) projected
  line L9 (304.8, 120.65) -> (304.8, 132.2) projected
  line L10 (0, 0) -> (22.86, 0) projected
  line L11 (0, 132.2) -> (0, 0) projected
  line L12 (167.5752, 120.65) -> (167.5752, 215.9) projected
  line L13 (167.5752, 215.9) -> (137.2248, 215.9) projected
  line L14 (137.2248, 215.9) -> (137.2248, 120.65) projected
  line L15 (22.86, 120.65) -> (22.86, 0) projected
  line L16 (304.8, 120.65) -> (167.5752, 120.65) projected
  line L17 (137.2248, 120.65) -> (22.86, 120.65) projected
hole "Hole3" at (124.5248, 317.5, 6.35) at (124.5248, 292.1, 6.35) at (124.5248, 266.7, 6.35) at (124.5248, 241.3, 6.35) at (124.5248, 215.9, 6.35) at (124.5248, 190.5, 6.35) at (124.5248, 165.1, 6.35) at (124.5248, 139.7, 6.35) at (180.2752, 139.7, 6.35) at (180.2752, 165.1, 6.35) at (180.2752, 190.5, 6.35) at (180.2752, 215.9, 6.35) at (180.2752, 241.3, 6.35) at (180.2752, 266.7, 6.35) at (180.2752, 292.1, 6.35) at (180.2752, 317.5, 6.35) direction (0, 0, -1) diameter 4.4958 depth 25.4 tip angle 118 clearance for "Flat Head Machine Screw (82)" size "#8" standard "Ansi Unified Screw Threads"
sketch "Sketch11" plane through (0, 0, 0) normal (0, 0, -1) x (-1, 0, 0)
  line L0 (-22.86, 120.65) -> (-22.86, 0) projected
  line L1 (0, 0) -> (-22.86, 0) projected
  line L2 (0, 132.2) -> (0, 0) projected
  line L3 (0, 132.2) -> (-44.7998, 132.2) projected
  line L4 (-44.7998, 132.2) -> (-44.7998, 172.6) projected
  line L5 (-44.7998, 172.6) -> (0, 172.6) projected
  line L6 (0, 330.2) -> (0, 172.6) projected
  line L7 (-304.8, 330.2) -> (0, 330.2) projected
  line L8 (-304.8, 172.6) -> (-304.8, 330.2) projected
  line L9 (-304.8, 172.6) -> (-260.0002, 172.6) projected
  line L10 (-260.0002, 172.6) -> (-260.0002, 132.2) projected
  line L11 (-260.0002, 132.2) -> (-304.8, 132.2) projected
  line L12 (-304.8, 120.65) -> (-304.8, 132.2) projected
  line L13 (-304.8, 120.65) -> (-167.5752, 120.65) projected
  line L14 (-167.5752, 120.65) -> (-167.5752, 215.9) projected
  line L15 (-167.5752, 215.9) -> (-137.2248, 215.9) projected
  line L16 (-137.2248, 215.9) -> (-137.2248, 120.65) projected
  circle A0 centre (-124.5248, 317.5) radius 2.2479 projected
  circle A1 centre (-124.5248, 292.1) radius 2.2479 projected
  circle A2 centre (-180.2752, 266.7) radius 2.2479 projected
  circle A3 centre (-124.5248, 241.3) radius 2.2479 projected
  circle A4 centre (-124.5248, 215.9) radius 2.2479 projected
  circle A5 centre (-180.2752, 190.5) radius 2.2479 projected
  circle A6 centre (-124.5248, 165.1) radius 2.2479 projected
  circle A7 centre (-180.2752, 139.7) radius 2.2479 projected
  circle A8 centre (-124.5248, 139.7) radius 2.2479 projected
  circle A9 centre (-180.2752, 165.1) radius 2.2479 projected
  circle A10 centre (-124.5248, 190.5) radius 2.2479 projected
  circle A11 centre (-180.2752, 215.9) radius 2.2479 projected
  circle A12 centre (-180.2752, 241.3) radius 2.2479 projected
  circle A13 centre (-124.5248, 266.7) radius 2.2479 projected
  circle A14 centre (-180.2752, 292.1) radius 2.2479 projected
  circle A15 centre (-180.2752, 317.5) radius 2.2479 projected
  circle A16 centre (-12.7, 38.1) radius 0.889 projected
  circle A17 centre (-12.7, 88.9) radius 0.889 projected
  circle A18 centre (-12.7, 266.7) radius 0.889 projected
  circle A19 centre (-12.7, 317.5) radius 0.889 projected
  circle A20 centre (-12.7, 292.1) radius 0.889 projected
  circle A21 centre (-12.7, 241.3) radius 0.889 projected
  circle A22 centre (-12.7, 63.5) radius 0.889 projected
  circle A23 centre (-12.7, 12.7) radius 0.889 projected
  circle A24 centre (-292.1, 266.7) radius 0.889 projected
  circle A25 centre (-292.1, 317.5) radius 0.889 projected
  circle A26 centre (-292.1, 292.1) radius 0.889 projected
  circle A27 centre (-292.1, 241.3) radius 0.889 projected
  circle A28 centre (-57.0998, 139.7) radius 3.175 projected
  circle A29 centre (-101.5498, 165.1) radius 3.175 projected
  circle A30 centre (-203.2502, 139.7) radius 3.175 projected
  circle A31 centre (-247.7002, 165.1) radius 3.175 projected
  circle A32 centre (-203.2502, 165.1) radius 3.175 projected
  circle A33 centre (-247.7002, 139.7) radius 3.175 projected
  circle A34 centre (-101.5498, 139.7) radius 3.175 projected
  circle A35 centre (-57.0998, 165.1) radius 3.175 projected
  line L17 (-279.4, 69.85) -> (-22.86, 69.85)
  line L18 (-22.86, 69.85) -> (-22.86, 0)
  line L19 (-22.86, 0) -> (-279.4, 0)
  line L20 (-279.4, 0) -> (-279.4, 69.85)
  line L21 (-137.2248, 120.65) -> (-22.86, 120.65) projected
extrude "Extrusion8" cut sketch "Sketch11" against normal blind 6.35 contours L0 L19 L20 L17
sketch "Sketch12" plane through (0, 0, 6.35) normal (0, 0, 1) x (1, 0, 0)
  line L0 (22.86, 120.65) -> (22.86, 0) projected
  line L1 (0, 0) -> (22.86, 0) projected
  line L2 (0, 132.2) -> (0, 0) projected
  line L3 (0, 132.2) -> (44.7998, 132.2) projected
  line L4 (44.7998, 132.2) -> (44.7998, 172.6) projected
  line L5 (44.7998, 172.6) -> (0, 172.6) projected
  line L6 (0, 330.2) -> (0, 172.6) projected
  line L7 (304.8, 330.2) -> (0, 330.2) projected
  line L8 (304.8, 172.6) -> (304.8, 330.2) projected
  line L9 (304.8, 172.6) -> (260.0002, 172.6) projected
  line L10 (260.0002, 172.6) -> (260.0002, 132.2) projected
  line L11 (260.0002, 132.2) -> (304.8, 132.2) projected
  line L12 (304.8, 120.65) -> (304.8, 132.2) projected
  line L13 (304.8, 120.65) -> (167.5752, 120.65) projected
  line L14 (167.5752, 120.65) -> (167.5752, 215.9) projected
  line L15 (167.5752, 215.9) -> (137.2248, 215.9) projected
  line L16 (137.2248, 215.9) -> (137.2248, 120.65) projected
  circle A0 centre (124.5248, 317.5) radius 2.2479 projected
  circle A1 centre (124.5248, 292.1) radius 2.2479 projected
  circle A2 centre (180.2752, 266.7) radius 2.2479 projected
  circle A3 centre (124.5248, 241.3) radius 2.2479 projected
  circle A4 centre (124.5248, 215.9) radius 2.2479 projected
  circle A5 centre (180.2752, 190.5) radius 2.2479 projected
  circle A6 centre (124.5248, 165.1) radius 2.2479 projected
  circle A7 centre (180.2752, 139.7) radius 2.2479 projected
  circle A8 centre (124.5248, 139.7) radius 2.2479 projected
  circle A9 centre (180.2752, 165.1) radius 2.2479 projected
  circle A10 centre (124.5248, 190.5) radius 2.2479 projected
  circle A11 centre (180.2752, 215.9) radius 2.2479 projected
  circle A12 centre (180.2752, 241.3) radius 2.2479 projected
  circle A13 centre (124.5248, 266.7) radius 2.2479 projected
  circle A14 centre (180.2752, 292.1) radius 2.2479 projected
  circle A15 centre (180.2752, 317.5) radius 2.2479 projected
  circle A16 centre (12.7, 38.1) radius 0.889 projected
  circle A17 centre (12.7, 88.9) radius 0.889 projected
  circle A18 centre (12.7, 266.7) radius 0.889 projected
  circle A19 centre (12.7, 317.5) radius 0.889 projected
  circle A20 centre (12.7, 292.1) radius 0.889 projected
  circle A21 centre (12.7, 241.3) radius 0.889 projected
  circle A22 centre (12.7, 63.5) radius 0.889 projected
  circle A23 centre (12.7, 12.7) radius 0.889 projected
  circle A24 centre (292.1, 266.7) radius 0.889 projected
  circle A25 centre (292.1, 317.5) radius 0.889 projected
  circle A26 centre (292.1, 292.1) radius 0.889 projected
  circle A27 centre (292.1, 241.3) radius 0.889 projected
  circle A28 centre (57.0998, 139.7) radius 3.175 projected
  circle A29 centre (101.5498, 165.1) radius 3.175 projected
  circle A30 centre (203.2502, 139.7) radius 3.175 projected
  circle A31 centre (247.7002, 165.1) radius 3.175 projected
  circle A32 centre (203.2502, 165.1) radius 3.175 projected
  circle A33 centre (247.7002, 139.7) radius 3.175 projected
  circle A34 centre (101.5498, 139.7) radius 3.175 projected
  circle A35 centre (57.0998, 165.1) radius 3.175 projected
  line L17 (137.2248, 120.65) -> (22.86, 120.65) projected
  point P0 (38.1, 82.55)
  point P1 (63.5, 82.55)
  point P2 (88.9, 82.55)
  point P3 (114.3, 82.55)
  point P4 (190.5, 82.55)
  point P5 (215.9, 82.55)
  point P6 (241.3, 82.55)
  point P7 (266.7, 82.55)
hole "Hole4" at (38.1, 82.55, 6.35) at (63.5, 82.55, 6.35) at (88.9, 82.55, 6.35) at (114.3, 82.55, 6.35) at (190.5, 82.55, 6.35) at (215.9, 82.55, 6.35) at (241.3, 82.55, 6.35) at (266.7, 82.55, 6.35) direction (0, 0, -1) diameter 4.4958 depth 25.4 tip angle 118 clearance for "Flat Head Machine Screw (82)" size "#8" standard "Ansi Unified Screw Threads"
properties part number "Piv Pannel" material "Aluminum 6061"
